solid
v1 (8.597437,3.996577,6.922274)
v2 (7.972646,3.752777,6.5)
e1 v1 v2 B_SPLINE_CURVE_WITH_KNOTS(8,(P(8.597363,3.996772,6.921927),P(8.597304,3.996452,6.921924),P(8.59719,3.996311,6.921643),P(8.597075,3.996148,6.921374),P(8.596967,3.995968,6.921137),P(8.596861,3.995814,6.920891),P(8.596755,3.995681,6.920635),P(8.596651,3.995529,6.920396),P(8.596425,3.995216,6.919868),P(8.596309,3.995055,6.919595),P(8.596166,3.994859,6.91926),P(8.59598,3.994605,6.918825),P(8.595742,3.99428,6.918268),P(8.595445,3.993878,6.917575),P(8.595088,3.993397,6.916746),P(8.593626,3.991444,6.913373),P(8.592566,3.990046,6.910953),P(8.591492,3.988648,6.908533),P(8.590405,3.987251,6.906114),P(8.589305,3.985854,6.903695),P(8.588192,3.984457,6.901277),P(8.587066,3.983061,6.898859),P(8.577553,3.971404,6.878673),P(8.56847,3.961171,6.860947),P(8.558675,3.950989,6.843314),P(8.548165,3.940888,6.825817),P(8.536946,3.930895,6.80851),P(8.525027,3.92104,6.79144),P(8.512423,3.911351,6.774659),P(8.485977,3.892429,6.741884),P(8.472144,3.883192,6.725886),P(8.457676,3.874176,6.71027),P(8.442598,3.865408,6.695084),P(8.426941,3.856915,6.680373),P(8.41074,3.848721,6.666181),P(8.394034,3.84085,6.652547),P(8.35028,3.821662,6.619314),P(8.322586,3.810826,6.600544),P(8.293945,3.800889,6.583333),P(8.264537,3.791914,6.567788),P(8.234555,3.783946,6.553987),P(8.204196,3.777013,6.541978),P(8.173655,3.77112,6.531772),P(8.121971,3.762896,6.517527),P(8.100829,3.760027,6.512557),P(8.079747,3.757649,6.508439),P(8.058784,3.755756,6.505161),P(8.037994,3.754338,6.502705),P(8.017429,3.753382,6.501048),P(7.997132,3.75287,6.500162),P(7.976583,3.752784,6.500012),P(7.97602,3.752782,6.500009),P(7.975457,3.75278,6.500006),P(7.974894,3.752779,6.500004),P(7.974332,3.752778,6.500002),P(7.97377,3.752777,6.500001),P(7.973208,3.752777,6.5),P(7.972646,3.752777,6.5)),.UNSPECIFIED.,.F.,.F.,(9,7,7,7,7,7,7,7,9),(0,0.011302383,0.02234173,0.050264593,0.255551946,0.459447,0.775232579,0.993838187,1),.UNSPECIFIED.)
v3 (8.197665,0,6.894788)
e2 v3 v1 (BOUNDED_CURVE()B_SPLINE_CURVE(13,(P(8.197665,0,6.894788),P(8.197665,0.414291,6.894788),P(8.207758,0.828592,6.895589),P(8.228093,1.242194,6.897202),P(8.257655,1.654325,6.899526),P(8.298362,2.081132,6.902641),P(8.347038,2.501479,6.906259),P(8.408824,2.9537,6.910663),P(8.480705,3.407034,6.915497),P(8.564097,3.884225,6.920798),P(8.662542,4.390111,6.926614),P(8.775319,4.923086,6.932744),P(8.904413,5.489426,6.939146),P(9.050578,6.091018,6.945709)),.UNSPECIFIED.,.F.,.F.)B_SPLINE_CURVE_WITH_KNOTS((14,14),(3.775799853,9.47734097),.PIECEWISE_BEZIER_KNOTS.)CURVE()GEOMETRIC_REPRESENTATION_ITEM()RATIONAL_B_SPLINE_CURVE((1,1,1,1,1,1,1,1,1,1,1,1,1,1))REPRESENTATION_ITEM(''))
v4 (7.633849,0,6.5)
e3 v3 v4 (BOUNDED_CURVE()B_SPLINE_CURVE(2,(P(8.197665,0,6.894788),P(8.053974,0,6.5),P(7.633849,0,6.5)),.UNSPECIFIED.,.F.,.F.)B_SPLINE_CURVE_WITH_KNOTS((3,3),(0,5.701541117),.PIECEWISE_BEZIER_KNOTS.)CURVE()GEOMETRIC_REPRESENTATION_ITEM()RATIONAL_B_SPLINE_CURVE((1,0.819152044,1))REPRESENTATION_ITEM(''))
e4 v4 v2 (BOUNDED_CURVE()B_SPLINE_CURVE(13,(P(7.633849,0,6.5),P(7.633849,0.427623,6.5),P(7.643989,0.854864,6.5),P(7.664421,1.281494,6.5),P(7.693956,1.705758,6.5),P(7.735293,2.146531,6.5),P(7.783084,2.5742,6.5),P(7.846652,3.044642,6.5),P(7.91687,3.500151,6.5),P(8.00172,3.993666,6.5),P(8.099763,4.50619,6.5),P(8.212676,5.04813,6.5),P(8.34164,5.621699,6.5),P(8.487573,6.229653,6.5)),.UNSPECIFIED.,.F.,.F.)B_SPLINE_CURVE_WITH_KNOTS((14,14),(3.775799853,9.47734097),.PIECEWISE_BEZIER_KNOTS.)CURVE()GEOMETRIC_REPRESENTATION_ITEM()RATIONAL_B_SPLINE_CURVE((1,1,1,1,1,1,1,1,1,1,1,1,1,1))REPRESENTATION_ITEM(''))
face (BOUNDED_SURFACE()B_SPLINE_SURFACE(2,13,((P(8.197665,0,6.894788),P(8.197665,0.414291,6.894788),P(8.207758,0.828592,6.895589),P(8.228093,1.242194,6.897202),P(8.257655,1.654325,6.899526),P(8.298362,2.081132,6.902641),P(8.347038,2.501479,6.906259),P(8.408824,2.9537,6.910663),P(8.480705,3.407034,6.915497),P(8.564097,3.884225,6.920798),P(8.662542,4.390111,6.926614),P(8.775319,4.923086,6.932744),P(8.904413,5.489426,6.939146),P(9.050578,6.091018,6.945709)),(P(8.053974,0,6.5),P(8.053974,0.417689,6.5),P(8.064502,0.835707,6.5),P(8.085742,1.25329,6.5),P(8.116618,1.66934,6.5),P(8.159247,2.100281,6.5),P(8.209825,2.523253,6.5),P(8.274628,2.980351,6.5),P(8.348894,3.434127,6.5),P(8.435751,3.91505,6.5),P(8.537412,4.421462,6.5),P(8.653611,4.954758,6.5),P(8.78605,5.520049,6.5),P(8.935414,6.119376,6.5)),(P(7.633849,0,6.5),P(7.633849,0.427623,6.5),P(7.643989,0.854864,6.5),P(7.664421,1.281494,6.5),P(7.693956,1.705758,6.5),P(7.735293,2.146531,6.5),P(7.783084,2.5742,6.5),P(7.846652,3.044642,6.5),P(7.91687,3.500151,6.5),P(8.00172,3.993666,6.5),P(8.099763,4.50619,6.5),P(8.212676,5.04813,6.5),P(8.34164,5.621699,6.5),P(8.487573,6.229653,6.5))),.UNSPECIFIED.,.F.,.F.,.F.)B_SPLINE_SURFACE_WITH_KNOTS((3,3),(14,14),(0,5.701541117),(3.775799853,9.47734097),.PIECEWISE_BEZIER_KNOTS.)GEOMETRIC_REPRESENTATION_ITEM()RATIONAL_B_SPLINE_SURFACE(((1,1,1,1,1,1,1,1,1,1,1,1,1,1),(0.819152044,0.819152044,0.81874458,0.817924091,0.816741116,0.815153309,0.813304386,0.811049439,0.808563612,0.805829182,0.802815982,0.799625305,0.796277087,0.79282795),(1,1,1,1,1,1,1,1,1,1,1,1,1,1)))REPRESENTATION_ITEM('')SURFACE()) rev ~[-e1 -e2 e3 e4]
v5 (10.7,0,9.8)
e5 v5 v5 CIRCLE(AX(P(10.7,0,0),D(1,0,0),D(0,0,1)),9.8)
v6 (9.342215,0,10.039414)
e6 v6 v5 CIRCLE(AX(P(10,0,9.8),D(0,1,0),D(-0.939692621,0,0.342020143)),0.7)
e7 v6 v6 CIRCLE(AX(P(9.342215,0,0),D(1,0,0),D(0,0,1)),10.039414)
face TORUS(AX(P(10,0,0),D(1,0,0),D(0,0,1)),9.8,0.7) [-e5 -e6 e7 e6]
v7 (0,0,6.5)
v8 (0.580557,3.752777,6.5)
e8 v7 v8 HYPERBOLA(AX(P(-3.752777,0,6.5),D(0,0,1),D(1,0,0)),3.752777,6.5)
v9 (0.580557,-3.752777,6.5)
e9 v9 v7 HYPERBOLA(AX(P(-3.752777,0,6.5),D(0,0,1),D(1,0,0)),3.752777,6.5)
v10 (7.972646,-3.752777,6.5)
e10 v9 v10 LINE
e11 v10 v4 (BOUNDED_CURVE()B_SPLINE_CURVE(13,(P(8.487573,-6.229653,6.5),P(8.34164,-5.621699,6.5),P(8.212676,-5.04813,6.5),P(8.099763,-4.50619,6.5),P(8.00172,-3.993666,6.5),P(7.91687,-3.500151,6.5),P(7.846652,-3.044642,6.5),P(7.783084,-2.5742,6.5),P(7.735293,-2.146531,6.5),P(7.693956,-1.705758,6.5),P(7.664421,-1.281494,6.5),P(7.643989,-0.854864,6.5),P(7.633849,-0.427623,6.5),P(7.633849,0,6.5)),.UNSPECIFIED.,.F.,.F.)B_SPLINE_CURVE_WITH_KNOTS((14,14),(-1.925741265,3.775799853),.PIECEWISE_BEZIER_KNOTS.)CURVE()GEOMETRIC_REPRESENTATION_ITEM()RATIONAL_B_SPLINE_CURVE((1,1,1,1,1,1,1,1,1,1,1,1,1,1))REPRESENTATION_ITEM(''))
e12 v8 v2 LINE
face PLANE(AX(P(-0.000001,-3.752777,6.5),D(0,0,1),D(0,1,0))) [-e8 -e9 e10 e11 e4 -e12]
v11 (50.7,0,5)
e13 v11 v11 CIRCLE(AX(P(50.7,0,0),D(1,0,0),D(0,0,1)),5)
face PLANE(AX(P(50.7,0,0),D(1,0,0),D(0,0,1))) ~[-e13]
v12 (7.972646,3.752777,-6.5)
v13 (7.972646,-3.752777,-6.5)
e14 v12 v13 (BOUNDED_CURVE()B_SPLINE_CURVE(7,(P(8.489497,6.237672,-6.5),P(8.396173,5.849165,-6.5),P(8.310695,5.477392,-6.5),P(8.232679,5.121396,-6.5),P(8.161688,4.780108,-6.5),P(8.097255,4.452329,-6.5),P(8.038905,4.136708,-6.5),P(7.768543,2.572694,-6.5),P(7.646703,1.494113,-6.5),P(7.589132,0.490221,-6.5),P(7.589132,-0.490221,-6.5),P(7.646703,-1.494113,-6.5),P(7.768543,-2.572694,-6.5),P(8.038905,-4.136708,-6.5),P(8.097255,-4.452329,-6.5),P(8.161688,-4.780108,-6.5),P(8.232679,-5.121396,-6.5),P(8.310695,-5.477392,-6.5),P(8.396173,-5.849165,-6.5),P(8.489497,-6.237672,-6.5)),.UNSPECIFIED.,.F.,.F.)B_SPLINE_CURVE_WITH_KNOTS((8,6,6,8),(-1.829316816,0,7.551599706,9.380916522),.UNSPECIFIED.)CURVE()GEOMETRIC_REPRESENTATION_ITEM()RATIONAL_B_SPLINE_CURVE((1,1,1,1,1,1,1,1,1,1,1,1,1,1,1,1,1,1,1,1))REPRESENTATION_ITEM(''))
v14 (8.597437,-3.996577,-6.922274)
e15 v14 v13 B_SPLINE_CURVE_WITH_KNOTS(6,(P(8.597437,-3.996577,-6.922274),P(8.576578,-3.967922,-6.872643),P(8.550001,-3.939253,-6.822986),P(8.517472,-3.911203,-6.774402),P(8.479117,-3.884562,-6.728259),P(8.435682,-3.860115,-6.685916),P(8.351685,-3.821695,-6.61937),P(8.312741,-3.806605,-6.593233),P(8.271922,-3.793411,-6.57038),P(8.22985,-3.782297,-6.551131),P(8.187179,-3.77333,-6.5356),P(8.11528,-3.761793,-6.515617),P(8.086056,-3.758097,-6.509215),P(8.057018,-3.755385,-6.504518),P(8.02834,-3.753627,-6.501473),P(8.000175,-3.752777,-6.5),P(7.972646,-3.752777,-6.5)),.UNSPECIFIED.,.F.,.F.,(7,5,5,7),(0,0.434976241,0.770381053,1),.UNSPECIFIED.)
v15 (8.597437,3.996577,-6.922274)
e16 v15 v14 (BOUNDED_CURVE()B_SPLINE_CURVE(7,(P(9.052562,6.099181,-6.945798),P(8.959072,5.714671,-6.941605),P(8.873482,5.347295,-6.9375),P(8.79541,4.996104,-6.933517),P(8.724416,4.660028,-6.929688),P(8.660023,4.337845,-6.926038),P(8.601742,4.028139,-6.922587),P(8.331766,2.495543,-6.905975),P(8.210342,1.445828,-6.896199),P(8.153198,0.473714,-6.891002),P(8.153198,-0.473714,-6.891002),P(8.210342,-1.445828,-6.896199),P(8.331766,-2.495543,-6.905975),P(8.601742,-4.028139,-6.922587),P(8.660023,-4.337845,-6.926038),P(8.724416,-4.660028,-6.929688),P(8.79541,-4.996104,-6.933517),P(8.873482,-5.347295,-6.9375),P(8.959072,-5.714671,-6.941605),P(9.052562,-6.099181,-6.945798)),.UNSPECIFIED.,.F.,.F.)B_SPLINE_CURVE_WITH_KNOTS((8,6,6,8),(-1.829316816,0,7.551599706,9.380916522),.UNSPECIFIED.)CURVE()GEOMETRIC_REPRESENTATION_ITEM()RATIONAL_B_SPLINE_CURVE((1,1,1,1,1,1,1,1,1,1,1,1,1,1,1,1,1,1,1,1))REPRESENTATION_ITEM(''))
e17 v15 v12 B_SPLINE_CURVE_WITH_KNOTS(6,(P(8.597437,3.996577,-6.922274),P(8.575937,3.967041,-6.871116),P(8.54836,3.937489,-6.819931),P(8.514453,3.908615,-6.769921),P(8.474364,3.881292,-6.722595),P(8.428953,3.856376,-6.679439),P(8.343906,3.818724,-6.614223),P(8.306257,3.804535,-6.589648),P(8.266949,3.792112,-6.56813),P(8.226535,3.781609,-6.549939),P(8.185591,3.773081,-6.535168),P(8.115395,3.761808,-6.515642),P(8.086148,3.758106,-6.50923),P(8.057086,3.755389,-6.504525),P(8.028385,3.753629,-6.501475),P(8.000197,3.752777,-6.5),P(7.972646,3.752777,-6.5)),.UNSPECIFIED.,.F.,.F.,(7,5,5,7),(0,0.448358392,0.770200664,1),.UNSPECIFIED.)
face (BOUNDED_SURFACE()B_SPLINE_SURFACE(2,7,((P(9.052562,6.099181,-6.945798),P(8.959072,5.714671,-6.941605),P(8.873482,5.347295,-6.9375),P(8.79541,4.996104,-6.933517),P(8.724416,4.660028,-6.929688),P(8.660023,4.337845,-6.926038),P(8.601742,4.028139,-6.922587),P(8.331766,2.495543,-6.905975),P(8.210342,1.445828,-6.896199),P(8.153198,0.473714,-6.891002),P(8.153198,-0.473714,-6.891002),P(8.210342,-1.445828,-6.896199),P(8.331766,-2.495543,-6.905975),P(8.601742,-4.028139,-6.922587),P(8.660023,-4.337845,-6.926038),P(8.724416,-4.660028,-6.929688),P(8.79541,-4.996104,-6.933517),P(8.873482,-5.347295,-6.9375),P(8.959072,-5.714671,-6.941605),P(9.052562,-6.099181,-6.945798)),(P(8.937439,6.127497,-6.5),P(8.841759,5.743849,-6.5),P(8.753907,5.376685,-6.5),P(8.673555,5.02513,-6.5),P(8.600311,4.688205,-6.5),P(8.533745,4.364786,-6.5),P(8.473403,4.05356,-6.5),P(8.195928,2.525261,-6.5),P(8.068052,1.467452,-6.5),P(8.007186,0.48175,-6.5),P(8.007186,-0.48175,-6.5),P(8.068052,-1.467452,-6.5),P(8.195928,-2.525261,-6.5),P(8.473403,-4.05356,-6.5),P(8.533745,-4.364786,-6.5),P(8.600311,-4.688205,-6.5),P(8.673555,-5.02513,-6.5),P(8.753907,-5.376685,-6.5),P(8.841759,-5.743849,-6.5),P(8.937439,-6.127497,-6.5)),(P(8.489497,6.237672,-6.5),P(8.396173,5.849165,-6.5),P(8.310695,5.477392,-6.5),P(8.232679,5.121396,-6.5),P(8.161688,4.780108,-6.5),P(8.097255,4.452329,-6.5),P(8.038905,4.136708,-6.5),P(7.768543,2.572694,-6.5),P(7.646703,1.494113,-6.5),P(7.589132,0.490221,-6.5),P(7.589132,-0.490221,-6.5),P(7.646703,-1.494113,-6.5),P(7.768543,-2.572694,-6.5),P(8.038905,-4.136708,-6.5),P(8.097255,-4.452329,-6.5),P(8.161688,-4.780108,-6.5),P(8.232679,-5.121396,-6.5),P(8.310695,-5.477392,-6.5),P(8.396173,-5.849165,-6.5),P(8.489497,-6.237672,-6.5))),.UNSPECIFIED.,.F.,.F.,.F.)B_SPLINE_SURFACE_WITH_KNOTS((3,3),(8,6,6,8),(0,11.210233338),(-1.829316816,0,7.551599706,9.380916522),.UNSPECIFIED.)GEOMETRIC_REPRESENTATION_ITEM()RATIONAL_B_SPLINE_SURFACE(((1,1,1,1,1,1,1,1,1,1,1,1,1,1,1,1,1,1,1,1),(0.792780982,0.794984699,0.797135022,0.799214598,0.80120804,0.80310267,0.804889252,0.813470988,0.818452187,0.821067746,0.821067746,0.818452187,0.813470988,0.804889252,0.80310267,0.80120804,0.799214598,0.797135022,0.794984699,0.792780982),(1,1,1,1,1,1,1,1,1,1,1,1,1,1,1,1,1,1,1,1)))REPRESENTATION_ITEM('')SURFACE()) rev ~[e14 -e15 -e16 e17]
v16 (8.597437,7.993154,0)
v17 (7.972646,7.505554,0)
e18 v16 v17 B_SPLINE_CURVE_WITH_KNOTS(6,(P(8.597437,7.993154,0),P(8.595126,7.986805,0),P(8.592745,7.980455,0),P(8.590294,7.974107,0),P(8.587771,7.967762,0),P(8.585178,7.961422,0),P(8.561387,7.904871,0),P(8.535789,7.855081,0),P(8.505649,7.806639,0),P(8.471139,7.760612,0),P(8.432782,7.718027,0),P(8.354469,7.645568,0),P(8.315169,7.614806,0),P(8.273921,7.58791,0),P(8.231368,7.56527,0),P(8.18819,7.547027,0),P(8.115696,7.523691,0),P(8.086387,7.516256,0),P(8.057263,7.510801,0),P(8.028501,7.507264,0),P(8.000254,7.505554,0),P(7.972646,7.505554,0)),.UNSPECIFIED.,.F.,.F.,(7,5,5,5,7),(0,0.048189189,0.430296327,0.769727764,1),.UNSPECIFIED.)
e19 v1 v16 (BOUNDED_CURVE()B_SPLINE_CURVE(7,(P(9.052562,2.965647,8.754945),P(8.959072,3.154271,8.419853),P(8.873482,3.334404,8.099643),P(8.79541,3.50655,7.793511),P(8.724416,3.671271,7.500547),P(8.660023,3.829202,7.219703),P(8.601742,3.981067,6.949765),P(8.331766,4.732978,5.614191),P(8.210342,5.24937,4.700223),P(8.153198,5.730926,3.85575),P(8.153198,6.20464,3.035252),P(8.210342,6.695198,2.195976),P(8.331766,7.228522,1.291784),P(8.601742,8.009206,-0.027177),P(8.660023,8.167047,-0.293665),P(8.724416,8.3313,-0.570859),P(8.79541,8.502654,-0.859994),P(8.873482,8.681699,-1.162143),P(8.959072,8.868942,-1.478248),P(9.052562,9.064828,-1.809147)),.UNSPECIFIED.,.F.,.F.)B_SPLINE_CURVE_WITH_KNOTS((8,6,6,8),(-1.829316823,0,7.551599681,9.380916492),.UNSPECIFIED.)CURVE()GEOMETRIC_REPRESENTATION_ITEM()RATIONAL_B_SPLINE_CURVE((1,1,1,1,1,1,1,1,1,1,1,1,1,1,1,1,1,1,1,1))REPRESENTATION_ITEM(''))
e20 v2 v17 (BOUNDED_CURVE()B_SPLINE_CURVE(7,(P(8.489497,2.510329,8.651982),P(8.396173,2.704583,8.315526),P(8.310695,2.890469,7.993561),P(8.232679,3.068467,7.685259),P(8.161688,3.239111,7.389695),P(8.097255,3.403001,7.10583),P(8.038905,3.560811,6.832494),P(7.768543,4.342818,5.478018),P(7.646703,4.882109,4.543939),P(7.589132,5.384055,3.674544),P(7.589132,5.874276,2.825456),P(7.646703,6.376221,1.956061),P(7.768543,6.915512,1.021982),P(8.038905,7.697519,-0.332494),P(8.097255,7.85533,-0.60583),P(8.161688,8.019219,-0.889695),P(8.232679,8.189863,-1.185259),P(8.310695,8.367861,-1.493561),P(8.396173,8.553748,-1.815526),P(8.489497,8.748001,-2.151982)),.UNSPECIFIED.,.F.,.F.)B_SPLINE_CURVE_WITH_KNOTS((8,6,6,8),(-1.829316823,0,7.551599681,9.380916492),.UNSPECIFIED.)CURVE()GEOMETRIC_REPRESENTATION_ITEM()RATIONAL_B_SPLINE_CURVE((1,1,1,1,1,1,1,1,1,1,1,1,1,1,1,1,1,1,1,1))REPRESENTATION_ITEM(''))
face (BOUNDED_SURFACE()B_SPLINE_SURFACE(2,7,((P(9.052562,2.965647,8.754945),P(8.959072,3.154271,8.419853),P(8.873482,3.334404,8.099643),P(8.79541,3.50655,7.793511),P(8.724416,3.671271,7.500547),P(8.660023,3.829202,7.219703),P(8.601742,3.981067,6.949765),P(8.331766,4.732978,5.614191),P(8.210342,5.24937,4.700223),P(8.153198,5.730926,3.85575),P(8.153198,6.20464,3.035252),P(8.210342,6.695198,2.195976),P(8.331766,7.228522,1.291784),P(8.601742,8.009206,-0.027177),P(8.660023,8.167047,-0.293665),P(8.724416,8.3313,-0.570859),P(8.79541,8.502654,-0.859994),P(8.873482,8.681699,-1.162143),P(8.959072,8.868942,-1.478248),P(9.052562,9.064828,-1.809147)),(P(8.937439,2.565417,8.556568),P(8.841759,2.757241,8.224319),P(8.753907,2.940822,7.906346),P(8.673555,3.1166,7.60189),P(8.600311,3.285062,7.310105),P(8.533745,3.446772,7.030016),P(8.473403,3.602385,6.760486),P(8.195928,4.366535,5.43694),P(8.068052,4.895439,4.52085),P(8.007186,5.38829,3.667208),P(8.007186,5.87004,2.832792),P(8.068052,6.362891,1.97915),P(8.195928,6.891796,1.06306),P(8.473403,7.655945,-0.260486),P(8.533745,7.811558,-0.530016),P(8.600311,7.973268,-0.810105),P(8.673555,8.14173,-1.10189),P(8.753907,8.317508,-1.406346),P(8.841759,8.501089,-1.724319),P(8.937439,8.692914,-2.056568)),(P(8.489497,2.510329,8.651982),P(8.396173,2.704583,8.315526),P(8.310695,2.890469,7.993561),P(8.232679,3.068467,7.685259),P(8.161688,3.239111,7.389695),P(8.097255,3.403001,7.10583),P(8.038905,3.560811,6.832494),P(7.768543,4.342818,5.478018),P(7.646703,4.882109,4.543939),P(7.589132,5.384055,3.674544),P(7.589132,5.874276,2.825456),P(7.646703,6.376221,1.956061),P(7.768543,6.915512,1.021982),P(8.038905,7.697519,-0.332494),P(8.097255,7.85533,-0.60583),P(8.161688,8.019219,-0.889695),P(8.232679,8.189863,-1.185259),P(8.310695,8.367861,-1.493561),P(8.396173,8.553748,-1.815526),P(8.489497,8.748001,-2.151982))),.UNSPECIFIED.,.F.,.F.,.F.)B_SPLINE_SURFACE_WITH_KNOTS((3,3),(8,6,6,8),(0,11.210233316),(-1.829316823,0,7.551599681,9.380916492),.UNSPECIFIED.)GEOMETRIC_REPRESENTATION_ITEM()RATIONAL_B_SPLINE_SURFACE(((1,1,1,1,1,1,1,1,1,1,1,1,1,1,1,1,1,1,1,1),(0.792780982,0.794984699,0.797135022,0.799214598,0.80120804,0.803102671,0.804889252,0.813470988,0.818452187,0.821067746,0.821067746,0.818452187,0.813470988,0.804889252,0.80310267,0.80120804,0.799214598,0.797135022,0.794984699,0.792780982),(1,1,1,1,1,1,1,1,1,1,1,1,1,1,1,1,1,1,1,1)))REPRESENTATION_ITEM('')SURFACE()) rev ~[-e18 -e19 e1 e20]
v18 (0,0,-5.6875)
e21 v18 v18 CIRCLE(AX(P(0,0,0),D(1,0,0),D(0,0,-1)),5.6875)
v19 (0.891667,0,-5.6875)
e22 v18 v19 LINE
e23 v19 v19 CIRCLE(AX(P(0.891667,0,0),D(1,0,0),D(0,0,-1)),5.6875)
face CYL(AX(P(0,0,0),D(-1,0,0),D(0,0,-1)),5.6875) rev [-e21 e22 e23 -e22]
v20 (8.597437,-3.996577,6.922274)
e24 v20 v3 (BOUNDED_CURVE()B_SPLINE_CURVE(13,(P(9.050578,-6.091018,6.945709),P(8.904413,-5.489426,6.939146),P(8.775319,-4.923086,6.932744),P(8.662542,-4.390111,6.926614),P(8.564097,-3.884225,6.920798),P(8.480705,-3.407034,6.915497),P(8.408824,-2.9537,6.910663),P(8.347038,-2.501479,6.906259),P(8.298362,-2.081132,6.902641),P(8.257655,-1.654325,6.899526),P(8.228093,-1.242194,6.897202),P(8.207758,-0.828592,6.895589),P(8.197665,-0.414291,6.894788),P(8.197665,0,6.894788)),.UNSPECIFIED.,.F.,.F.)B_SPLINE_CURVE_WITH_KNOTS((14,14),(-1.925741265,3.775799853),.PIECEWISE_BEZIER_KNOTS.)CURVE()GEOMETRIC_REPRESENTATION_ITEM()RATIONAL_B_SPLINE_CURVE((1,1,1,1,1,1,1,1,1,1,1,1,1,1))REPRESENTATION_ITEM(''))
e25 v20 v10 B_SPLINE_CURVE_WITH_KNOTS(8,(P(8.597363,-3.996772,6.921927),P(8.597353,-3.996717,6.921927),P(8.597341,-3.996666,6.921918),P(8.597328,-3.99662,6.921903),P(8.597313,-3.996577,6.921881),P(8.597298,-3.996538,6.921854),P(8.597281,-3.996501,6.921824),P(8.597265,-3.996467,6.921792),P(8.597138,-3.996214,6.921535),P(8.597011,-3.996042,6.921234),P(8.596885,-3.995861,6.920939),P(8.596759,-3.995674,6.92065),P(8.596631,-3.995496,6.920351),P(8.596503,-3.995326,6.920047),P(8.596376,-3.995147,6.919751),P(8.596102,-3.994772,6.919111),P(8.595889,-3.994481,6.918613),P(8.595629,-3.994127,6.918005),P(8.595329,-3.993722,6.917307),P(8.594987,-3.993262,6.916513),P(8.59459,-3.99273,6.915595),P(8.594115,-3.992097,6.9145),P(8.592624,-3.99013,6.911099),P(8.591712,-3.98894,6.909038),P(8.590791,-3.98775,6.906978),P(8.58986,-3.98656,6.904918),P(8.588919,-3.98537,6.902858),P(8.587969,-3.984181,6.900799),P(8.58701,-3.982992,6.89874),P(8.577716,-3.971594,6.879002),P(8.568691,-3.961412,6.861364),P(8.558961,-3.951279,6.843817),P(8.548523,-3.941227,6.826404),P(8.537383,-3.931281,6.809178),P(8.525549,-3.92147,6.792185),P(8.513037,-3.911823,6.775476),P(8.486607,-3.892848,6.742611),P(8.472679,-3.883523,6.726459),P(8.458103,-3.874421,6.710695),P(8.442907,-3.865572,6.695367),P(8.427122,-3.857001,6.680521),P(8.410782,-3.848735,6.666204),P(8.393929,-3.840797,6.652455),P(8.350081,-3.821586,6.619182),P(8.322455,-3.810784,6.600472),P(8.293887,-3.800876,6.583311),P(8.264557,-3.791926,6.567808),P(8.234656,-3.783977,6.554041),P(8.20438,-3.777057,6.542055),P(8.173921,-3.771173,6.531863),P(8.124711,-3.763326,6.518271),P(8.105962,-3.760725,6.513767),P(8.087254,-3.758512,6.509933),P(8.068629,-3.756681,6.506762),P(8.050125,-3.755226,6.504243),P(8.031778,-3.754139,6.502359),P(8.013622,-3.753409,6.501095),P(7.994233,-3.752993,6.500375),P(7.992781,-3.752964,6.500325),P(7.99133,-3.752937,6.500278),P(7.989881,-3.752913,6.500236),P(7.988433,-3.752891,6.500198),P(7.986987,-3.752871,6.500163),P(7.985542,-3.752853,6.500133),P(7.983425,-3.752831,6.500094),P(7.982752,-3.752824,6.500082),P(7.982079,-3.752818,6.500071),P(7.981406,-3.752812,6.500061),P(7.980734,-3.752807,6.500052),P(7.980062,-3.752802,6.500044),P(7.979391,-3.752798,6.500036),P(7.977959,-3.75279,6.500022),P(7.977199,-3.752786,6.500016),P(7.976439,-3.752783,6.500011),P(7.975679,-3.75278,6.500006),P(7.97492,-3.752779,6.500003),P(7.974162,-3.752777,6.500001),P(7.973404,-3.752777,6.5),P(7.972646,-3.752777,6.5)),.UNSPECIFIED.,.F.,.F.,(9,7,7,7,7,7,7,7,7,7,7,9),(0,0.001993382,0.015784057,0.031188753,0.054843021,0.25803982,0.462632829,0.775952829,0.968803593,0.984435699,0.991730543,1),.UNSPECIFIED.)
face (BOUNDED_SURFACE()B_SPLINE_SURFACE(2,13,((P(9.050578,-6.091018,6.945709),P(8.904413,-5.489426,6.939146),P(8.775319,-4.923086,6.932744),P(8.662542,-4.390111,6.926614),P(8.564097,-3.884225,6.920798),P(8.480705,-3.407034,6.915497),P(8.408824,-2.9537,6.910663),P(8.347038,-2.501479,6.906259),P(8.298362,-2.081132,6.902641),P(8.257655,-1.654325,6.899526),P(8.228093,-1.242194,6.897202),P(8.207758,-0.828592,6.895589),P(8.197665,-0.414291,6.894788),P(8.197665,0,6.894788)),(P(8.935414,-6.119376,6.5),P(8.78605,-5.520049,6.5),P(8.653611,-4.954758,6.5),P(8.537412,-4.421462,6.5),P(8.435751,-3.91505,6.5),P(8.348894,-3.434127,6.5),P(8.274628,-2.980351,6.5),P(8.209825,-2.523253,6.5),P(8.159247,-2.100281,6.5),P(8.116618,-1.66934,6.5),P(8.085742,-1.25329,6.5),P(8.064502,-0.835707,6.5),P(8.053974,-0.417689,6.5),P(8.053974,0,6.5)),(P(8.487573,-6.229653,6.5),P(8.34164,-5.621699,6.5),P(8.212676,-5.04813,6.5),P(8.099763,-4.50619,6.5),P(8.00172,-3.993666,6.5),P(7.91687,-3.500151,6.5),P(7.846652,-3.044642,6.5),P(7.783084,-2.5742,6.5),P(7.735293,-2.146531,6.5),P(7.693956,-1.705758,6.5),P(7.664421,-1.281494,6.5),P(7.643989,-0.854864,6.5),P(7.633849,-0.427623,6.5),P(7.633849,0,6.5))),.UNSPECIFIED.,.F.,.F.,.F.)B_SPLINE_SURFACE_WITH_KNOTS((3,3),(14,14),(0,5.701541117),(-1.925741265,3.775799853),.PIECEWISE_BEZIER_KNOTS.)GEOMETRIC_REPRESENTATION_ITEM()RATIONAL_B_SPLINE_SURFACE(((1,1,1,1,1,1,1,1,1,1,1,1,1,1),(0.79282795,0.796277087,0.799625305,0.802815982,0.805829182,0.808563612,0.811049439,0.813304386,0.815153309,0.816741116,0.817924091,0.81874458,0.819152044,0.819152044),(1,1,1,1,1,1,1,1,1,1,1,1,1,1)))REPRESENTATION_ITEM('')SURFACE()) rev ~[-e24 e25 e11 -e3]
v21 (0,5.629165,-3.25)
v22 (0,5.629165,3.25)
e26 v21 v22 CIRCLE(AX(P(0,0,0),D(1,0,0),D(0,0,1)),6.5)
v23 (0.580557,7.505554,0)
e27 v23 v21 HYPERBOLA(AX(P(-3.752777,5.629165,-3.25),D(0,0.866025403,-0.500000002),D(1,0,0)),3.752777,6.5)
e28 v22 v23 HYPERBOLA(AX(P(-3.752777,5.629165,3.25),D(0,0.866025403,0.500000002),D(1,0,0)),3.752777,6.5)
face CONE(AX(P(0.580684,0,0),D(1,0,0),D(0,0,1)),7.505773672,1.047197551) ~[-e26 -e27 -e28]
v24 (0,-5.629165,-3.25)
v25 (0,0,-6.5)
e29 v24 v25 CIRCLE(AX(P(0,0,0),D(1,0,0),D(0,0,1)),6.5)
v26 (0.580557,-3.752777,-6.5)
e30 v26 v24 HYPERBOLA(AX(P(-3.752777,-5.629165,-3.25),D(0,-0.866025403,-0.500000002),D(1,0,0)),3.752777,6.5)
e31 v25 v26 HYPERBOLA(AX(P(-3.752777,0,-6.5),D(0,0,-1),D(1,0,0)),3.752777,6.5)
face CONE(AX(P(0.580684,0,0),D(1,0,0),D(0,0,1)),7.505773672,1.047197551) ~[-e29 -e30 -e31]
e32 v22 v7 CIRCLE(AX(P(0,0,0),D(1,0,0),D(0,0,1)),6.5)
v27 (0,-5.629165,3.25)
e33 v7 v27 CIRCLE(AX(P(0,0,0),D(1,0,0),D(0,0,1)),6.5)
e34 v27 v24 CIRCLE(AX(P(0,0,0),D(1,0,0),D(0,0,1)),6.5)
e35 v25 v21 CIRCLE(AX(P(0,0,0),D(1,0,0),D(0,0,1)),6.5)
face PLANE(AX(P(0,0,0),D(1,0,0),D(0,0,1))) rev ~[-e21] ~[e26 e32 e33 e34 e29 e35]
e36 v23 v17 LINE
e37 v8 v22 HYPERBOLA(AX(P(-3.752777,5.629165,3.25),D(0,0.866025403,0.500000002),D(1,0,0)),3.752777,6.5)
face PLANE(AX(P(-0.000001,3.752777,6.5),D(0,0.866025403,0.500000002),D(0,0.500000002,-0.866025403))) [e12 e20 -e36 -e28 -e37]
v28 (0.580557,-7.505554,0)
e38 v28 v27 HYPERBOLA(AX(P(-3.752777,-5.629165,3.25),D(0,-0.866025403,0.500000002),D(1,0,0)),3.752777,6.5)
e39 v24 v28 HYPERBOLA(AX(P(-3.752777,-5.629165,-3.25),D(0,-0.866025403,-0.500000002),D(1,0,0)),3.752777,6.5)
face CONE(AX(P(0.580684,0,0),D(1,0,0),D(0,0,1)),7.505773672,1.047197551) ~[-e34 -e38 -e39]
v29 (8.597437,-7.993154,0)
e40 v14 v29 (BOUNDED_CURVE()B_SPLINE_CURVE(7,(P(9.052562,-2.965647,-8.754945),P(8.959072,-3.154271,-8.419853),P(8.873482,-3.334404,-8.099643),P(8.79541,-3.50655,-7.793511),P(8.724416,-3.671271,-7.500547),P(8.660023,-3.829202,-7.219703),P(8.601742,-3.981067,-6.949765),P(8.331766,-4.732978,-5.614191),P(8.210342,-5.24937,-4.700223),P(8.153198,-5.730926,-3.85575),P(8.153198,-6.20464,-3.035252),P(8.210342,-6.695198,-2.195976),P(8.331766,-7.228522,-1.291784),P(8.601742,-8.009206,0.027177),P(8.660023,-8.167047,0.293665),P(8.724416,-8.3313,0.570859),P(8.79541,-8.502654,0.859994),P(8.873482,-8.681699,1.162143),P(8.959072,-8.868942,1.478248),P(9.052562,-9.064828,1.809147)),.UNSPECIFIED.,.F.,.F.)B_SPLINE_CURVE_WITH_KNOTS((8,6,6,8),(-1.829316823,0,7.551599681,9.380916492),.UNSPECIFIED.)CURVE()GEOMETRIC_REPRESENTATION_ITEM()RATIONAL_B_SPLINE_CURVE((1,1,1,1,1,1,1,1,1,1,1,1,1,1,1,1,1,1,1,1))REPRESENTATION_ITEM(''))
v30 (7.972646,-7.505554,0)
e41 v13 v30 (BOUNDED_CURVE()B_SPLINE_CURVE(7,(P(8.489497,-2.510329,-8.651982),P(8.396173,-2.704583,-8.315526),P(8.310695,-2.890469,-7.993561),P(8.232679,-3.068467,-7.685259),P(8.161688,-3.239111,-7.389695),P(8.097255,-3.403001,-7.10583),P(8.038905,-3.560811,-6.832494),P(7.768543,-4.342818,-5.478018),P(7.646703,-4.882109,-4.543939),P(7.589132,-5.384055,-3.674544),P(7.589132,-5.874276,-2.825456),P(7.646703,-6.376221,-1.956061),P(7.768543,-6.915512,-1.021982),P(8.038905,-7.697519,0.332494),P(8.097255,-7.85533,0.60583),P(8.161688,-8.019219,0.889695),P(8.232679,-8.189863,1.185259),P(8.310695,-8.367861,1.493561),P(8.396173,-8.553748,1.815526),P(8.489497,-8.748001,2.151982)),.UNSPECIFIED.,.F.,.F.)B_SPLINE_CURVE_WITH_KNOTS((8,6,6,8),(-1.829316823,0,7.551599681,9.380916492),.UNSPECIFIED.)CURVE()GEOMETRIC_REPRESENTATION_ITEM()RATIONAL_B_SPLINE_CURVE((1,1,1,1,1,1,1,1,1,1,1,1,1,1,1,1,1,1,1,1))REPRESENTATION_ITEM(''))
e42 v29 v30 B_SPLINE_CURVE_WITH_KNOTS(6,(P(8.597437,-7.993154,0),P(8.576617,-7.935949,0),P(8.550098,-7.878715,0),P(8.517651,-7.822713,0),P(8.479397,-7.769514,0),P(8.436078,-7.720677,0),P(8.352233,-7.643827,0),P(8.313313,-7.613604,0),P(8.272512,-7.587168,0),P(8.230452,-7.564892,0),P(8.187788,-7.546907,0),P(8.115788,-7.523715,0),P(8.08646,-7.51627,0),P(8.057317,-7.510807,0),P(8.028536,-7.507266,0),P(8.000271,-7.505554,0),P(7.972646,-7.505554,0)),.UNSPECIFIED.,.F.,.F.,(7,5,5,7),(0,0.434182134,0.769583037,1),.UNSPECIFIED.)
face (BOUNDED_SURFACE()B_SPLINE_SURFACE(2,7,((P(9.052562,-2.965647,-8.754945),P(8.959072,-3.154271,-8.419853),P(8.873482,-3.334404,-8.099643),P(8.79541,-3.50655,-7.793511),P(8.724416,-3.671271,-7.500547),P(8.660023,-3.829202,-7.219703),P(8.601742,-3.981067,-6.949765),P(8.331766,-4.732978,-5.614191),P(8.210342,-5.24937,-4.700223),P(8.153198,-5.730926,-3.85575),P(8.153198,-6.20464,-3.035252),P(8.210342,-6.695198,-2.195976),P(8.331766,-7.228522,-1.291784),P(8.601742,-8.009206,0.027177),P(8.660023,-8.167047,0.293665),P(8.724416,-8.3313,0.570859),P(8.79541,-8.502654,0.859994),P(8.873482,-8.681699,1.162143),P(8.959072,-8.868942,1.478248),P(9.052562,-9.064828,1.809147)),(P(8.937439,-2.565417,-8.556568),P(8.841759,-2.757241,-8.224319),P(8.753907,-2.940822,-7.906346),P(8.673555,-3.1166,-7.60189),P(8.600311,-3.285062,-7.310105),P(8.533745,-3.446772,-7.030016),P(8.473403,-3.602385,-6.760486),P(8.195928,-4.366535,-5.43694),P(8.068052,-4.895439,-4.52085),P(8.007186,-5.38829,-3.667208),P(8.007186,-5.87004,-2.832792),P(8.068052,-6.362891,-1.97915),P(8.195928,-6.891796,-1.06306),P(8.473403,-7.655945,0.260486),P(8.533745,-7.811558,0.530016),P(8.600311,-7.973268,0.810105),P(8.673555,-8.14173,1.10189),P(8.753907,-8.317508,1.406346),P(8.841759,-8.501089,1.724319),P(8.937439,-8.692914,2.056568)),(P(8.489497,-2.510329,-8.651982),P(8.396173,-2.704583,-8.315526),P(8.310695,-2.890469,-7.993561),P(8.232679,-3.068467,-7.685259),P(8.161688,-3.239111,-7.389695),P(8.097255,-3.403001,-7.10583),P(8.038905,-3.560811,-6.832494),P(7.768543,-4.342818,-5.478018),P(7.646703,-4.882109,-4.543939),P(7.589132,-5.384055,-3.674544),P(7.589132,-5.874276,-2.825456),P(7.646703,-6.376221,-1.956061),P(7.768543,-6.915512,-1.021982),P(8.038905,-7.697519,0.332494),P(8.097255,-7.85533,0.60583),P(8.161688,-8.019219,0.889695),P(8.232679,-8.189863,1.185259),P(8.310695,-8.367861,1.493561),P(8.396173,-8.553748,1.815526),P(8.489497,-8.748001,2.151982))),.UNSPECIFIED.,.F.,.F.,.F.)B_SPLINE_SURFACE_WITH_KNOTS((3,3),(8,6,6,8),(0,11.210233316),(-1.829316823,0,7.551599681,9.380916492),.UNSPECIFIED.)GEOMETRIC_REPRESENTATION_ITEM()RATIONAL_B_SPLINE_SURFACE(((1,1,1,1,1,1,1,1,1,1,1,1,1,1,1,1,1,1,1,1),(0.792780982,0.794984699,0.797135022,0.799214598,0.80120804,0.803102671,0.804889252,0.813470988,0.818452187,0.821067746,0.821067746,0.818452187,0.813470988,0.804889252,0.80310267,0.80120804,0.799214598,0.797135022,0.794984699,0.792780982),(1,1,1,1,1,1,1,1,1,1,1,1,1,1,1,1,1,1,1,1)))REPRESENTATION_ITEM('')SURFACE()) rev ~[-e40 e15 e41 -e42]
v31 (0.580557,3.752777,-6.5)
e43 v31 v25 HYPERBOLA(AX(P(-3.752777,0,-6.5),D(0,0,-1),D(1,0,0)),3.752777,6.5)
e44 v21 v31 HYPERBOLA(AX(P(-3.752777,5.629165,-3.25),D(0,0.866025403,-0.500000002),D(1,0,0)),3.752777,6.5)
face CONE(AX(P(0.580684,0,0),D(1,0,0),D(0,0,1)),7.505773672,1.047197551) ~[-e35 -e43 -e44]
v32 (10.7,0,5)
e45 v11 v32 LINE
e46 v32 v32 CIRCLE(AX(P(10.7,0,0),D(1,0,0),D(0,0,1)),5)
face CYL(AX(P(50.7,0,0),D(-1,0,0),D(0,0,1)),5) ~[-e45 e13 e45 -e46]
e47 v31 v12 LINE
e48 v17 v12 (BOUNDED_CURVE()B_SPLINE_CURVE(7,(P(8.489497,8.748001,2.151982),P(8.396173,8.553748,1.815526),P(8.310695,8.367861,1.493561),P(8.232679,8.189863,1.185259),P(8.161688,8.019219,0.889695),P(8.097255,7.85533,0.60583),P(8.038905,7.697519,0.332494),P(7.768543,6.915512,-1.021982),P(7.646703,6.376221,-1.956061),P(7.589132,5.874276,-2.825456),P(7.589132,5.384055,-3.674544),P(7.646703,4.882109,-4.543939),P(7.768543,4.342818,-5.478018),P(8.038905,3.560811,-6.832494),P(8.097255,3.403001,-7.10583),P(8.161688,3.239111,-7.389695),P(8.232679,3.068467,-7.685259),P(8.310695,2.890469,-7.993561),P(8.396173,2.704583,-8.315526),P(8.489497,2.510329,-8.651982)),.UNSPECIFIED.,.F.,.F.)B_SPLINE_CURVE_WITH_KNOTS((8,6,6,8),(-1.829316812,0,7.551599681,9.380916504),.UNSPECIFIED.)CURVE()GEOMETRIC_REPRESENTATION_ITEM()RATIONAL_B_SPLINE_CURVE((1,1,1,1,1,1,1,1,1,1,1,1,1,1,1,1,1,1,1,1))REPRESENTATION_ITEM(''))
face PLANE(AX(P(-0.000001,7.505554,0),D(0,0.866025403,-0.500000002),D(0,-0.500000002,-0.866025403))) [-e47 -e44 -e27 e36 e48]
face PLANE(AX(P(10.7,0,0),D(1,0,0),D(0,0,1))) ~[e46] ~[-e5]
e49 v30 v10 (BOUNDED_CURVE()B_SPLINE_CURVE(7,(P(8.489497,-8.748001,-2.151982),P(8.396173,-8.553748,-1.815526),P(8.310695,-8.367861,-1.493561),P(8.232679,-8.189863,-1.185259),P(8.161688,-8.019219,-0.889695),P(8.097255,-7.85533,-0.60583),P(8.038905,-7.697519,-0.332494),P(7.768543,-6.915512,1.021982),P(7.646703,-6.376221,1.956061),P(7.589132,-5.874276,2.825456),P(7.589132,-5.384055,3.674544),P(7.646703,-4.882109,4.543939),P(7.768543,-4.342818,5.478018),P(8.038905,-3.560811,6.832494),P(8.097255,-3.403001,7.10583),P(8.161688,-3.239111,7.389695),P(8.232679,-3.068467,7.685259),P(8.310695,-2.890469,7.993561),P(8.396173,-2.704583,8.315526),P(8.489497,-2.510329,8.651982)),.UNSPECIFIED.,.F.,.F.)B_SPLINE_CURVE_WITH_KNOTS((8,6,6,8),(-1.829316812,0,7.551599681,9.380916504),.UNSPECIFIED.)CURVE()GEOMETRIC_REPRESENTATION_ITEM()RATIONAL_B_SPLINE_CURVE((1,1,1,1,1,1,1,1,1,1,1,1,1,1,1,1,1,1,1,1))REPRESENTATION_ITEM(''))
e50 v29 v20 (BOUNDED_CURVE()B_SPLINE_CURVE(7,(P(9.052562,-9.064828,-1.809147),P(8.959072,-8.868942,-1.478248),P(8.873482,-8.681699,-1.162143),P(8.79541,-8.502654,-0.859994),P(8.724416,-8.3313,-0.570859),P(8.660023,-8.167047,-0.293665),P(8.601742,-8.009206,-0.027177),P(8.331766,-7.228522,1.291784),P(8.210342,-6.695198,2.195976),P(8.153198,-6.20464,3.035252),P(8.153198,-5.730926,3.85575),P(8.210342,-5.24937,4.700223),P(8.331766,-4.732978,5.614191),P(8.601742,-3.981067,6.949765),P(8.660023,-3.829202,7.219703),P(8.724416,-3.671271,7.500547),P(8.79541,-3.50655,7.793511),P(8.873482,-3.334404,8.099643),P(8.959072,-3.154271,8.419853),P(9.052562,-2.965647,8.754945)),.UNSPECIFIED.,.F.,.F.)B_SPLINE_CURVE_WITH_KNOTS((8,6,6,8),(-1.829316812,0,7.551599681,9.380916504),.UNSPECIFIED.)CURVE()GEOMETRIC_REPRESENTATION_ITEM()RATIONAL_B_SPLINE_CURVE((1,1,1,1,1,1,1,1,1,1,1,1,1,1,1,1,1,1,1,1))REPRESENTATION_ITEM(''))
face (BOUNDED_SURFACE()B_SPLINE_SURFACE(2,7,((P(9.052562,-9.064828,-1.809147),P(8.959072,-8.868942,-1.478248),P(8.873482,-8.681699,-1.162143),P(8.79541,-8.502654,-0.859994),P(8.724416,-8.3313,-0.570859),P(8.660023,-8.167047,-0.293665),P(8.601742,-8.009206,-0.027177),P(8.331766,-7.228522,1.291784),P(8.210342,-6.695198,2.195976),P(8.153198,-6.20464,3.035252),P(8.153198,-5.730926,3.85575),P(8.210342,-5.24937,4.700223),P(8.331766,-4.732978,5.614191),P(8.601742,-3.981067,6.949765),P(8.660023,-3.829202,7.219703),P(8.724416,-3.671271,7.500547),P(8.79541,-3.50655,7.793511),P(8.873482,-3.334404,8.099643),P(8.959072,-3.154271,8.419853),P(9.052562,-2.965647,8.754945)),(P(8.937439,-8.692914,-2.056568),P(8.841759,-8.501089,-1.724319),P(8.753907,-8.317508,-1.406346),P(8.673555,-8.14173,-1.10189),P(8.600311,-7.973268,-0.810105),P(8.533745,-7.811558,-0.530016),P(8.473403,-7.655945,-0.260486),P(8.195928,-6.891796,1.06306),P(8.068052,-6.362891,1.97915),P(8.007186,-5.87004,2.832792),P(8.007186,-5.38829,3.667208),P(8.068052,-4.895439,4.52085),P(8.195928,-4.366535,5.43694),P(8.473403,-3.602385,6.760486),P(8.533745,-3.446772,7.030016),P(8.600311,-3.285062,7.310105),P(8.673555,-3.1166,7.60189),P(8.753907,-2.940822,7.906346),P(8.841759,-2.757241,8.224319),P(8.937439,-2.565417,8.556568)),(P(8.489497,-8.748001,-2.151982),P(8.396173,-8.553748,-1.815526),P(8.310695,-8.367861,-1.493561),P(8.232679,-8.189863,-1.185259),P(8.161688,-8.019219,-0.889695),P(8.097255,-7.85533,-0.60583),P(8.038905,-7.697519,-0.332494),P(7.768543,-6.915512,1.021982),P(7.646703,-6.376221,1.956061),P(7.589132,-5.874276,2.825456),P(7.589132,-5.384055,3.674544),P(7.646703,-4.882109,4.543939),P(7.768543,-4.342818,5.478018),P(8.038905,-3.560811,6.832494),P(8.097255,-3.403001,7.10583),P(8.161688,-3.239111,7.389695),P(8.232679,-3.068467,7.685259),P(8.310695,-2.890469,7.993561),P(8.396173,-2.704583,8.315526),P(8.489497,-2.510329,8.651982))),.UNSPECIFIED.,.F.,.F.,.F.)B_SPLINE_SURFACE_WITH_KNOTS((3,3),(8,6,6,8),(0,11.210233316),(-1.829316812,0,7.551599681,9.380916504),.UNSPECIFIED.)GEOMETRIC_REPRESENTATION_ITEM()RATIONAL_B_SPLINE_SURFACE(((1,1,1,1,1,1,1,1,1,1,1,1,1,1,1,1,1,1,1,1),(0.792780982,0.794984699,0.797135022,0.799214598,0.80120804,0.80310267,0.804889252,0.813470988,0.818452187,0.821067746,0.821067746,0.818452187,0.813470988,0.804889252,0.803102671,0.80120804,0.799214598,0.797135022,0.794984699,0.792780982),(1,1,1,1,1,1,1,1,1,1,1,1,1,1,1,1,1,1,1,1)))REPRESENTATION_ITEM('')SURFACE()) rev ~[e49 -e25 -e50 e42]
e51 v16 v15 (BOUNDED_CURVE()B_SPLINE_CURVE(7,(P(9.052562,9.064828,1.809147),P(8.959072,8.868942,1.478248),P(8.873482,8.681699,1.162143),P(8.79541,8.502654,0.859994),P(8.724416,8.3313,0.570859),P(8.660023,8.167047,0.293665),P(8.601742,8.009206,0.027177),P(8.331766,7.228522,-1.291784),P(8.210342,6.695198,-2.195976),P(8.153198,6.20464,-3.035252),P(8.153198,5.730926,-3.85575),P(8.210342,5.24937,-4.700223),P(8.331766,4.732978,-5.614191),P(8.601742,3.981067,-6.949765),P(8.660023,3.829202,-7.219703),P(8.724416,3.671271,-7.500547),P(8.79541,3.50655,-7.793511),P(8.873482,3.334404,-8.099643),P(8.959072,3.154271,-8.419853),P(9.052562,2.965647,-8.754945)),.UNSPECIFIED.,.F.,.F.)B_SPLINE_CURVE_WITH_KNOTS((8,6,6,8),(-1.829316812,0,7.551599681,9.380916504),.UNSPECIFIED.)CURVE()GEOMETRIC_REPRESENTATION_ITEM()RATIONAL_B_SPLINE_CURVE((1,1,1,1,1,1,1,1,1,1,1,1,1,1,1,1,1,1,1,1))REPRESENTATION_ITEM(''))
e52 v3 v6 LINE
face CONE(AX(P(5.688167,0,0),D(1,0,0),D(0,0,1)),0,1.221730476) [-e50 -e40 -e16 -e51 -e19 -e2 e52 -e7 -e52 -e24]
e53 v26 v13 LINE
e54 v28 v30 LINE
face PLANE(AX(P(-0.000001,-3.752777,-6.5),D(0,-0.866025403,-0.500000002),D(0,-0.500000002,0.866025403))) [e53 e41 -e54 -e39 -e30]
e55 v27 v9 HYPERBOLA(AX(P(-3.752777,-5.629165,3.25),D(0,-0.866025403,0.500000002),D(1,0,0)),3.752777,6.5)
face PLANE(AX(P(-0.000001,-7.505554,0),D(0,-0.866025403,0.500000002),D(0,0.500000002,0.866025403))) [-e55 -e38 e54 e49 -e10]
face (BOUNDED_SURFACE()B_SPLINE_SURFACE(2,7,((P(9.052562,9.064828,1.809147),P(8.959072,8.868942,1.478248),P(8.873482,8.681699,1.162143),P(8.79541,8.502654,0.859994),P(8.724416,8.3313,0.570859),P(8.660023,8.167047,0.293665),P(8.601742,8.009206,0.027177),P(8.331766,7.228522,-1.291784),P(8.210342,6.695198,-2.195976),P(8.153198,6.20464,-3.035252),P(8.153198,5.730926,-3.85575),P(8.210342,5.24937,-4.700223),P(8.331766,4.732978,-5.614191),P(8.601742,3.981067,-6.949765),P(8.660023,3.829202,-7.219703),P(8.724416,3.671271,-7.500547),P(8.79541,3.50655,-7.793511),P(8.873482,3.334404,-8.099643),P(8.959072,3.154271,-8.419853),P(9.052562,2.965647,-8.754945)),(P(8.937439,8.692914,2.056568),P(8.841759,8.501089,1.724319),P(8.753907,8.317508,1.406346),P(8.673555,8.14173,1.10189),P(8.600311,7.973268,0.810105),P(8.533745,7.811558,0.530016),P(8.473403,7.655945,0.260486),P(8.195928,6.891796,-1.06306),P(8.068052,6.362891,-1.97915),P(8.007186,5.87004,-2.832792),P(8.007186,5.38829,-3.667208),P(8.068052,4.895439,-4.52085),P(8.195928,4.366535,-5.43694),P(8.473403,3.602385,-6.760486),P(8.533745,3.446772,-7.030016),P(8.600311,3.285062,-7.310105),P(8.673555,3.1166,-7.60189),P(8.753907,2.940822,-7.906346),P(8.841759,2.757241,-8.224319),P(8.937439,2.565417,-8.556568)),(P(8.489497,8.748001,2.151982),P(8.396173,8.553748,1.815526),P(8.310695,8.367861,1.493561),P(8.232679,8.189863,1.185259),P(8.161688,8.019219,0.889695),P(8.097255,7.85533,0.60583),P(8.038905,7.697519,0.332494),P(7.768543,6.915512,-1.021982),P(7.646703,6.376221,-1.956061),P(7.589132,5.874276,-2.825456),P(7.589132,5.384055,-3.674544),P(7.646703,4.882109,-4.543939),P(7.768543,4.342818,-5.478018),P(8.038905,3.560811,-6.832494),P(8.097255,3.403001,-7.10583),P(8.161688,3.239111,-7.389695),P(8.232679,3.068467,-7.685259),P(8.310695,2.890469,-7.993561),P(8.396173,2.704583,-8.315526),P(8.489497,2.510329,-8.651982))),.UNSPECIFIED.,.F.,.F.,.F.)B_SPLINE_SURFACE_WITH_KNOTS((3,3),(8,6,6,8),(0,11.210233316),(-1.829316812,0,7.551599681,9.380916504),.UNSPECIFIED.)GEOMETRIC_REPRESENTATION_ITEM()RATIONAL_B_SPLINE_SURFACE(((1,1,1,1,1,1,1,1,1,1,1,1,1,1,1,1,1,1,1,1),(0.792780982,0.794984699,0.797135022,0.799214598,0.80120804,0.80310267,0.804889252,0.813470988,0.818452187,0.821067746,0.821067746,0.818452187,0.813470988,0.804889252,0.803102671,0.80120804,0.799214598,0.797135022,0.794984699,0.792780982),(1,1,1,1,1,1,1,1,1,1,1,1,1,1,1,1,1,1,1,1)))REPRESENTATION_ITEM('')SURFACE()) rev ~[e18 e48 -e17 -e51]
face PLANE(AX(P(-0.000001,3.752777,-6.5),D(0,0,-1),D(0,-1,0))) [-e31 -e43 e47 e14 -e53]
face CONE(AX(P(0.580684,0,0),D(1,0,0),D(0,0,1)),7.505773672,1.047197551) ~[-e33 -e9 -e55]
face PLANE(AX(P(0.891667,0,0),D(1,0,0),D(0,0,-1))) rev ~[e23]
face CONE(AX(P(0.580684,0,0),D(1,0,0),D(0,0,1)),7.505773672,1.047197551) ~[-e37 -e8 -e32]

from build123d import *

# Parameters (mm, degrees)
HEX_DIE_START     = -1e-06
SKETCH2_R         = 7.580831409
HEX_DIE_DEPTH     = 10.700001
FLANGEHEXFILLET_R = 0.6
SKETCH4_R         = 5.6875
INDENT_DEPTH      = 0.891666667


with BuildPart() as part:
    # BodySke → Base-Revolve (revolve)
    with BuildSketch(Plane.XY, mode=Mode.PRIVATE) as base_revolve_sk:
        Polygon((10.7, 5), (10.7, 7.505773672), (0.5806837, 7.505773672), (0, 6.5), (0, 0), (50.7, 0), (50.7, 5), align=None)
    revolve(base_revolve_sk.sketch.rotate(Axis((-25.4, 0, 0), (1, 0, 0)), 90), axis=Axis((-25.4, 0, 0), (1, 0, 0)))

    # Sketch2 → Hex-Die (cut)
    with BuildSketch(Plane(origin=(0, 0, 0), x_dir=(0, 0, -1), z_dir=(1, 0, 0)).offset(HEX_DIE_START)):
        Circle(SKETCH2_R)
        Polygon((-6.5, 3.752776766), (0, 7.505553532), (6.5, 3.752776766), (6.5, -3.752776766), (0, -7.505553532), (-6.5, -3.752776766), align=None, mode=Mode.SUBTRACT)
    extrude(amount=HEX_DIE_DEPTH, mode=Mode.SUBTRACT)

    # Sketch5 → Flange (revolve)
    with BuildSketch(Plane.XY, mode=Mode.PRIVATE) as flange_sk:
        with BuildLine():
            Line((5.688167263, 0), (9.342215165, 10.0394141))
            ThreePointArc((9.342215165, 10.0394141), (10.121553724, 10.489365427), (10.7, 9.8))
            Line((10.7, 9.8), (10.7, 0))
            Line((10.7, 0), (5.688167263, 0))
        make_face()
    revolve(flange_sk.sketch.rotate(Axis((0, 0, 0), (1, 0, 0)), 90), axis=Axis((0, 0, 0), (1, 0, 0)))

    # FlangeHexFillet
    flangehexfillet_edges = [part.edges().sort_by_distance(p)[0] for p in [
        (8.151404722, 1.884573799, 6.5),
        (8.053973794, 5.629165149, 3.25),
        (8.053973794, 5.629165149, -3.25),
        (8.053973786, 0, -6.5),
        (8.053973794, -5.629165149, -3.25),
        (8.053973794, -5.629165149, 3.25),
        (8.151404722, -1.884573799, 6.5),
    ]]
    fillet(flangehexfillet_edges, radius=FLANGEHEXFILLET_R)

    # Sketch4 → Indent (cut)
    with BuildSketch(Plane(origin=(0, 0, 0), x_dir=(0, 0, -1), z_dir=(1, 0, 0))):
        Circle(SKETCH4_R)
    extrude(amount=INDENT_DEPTH, mode=Mode.SUBTRACT)


solid = part.part
